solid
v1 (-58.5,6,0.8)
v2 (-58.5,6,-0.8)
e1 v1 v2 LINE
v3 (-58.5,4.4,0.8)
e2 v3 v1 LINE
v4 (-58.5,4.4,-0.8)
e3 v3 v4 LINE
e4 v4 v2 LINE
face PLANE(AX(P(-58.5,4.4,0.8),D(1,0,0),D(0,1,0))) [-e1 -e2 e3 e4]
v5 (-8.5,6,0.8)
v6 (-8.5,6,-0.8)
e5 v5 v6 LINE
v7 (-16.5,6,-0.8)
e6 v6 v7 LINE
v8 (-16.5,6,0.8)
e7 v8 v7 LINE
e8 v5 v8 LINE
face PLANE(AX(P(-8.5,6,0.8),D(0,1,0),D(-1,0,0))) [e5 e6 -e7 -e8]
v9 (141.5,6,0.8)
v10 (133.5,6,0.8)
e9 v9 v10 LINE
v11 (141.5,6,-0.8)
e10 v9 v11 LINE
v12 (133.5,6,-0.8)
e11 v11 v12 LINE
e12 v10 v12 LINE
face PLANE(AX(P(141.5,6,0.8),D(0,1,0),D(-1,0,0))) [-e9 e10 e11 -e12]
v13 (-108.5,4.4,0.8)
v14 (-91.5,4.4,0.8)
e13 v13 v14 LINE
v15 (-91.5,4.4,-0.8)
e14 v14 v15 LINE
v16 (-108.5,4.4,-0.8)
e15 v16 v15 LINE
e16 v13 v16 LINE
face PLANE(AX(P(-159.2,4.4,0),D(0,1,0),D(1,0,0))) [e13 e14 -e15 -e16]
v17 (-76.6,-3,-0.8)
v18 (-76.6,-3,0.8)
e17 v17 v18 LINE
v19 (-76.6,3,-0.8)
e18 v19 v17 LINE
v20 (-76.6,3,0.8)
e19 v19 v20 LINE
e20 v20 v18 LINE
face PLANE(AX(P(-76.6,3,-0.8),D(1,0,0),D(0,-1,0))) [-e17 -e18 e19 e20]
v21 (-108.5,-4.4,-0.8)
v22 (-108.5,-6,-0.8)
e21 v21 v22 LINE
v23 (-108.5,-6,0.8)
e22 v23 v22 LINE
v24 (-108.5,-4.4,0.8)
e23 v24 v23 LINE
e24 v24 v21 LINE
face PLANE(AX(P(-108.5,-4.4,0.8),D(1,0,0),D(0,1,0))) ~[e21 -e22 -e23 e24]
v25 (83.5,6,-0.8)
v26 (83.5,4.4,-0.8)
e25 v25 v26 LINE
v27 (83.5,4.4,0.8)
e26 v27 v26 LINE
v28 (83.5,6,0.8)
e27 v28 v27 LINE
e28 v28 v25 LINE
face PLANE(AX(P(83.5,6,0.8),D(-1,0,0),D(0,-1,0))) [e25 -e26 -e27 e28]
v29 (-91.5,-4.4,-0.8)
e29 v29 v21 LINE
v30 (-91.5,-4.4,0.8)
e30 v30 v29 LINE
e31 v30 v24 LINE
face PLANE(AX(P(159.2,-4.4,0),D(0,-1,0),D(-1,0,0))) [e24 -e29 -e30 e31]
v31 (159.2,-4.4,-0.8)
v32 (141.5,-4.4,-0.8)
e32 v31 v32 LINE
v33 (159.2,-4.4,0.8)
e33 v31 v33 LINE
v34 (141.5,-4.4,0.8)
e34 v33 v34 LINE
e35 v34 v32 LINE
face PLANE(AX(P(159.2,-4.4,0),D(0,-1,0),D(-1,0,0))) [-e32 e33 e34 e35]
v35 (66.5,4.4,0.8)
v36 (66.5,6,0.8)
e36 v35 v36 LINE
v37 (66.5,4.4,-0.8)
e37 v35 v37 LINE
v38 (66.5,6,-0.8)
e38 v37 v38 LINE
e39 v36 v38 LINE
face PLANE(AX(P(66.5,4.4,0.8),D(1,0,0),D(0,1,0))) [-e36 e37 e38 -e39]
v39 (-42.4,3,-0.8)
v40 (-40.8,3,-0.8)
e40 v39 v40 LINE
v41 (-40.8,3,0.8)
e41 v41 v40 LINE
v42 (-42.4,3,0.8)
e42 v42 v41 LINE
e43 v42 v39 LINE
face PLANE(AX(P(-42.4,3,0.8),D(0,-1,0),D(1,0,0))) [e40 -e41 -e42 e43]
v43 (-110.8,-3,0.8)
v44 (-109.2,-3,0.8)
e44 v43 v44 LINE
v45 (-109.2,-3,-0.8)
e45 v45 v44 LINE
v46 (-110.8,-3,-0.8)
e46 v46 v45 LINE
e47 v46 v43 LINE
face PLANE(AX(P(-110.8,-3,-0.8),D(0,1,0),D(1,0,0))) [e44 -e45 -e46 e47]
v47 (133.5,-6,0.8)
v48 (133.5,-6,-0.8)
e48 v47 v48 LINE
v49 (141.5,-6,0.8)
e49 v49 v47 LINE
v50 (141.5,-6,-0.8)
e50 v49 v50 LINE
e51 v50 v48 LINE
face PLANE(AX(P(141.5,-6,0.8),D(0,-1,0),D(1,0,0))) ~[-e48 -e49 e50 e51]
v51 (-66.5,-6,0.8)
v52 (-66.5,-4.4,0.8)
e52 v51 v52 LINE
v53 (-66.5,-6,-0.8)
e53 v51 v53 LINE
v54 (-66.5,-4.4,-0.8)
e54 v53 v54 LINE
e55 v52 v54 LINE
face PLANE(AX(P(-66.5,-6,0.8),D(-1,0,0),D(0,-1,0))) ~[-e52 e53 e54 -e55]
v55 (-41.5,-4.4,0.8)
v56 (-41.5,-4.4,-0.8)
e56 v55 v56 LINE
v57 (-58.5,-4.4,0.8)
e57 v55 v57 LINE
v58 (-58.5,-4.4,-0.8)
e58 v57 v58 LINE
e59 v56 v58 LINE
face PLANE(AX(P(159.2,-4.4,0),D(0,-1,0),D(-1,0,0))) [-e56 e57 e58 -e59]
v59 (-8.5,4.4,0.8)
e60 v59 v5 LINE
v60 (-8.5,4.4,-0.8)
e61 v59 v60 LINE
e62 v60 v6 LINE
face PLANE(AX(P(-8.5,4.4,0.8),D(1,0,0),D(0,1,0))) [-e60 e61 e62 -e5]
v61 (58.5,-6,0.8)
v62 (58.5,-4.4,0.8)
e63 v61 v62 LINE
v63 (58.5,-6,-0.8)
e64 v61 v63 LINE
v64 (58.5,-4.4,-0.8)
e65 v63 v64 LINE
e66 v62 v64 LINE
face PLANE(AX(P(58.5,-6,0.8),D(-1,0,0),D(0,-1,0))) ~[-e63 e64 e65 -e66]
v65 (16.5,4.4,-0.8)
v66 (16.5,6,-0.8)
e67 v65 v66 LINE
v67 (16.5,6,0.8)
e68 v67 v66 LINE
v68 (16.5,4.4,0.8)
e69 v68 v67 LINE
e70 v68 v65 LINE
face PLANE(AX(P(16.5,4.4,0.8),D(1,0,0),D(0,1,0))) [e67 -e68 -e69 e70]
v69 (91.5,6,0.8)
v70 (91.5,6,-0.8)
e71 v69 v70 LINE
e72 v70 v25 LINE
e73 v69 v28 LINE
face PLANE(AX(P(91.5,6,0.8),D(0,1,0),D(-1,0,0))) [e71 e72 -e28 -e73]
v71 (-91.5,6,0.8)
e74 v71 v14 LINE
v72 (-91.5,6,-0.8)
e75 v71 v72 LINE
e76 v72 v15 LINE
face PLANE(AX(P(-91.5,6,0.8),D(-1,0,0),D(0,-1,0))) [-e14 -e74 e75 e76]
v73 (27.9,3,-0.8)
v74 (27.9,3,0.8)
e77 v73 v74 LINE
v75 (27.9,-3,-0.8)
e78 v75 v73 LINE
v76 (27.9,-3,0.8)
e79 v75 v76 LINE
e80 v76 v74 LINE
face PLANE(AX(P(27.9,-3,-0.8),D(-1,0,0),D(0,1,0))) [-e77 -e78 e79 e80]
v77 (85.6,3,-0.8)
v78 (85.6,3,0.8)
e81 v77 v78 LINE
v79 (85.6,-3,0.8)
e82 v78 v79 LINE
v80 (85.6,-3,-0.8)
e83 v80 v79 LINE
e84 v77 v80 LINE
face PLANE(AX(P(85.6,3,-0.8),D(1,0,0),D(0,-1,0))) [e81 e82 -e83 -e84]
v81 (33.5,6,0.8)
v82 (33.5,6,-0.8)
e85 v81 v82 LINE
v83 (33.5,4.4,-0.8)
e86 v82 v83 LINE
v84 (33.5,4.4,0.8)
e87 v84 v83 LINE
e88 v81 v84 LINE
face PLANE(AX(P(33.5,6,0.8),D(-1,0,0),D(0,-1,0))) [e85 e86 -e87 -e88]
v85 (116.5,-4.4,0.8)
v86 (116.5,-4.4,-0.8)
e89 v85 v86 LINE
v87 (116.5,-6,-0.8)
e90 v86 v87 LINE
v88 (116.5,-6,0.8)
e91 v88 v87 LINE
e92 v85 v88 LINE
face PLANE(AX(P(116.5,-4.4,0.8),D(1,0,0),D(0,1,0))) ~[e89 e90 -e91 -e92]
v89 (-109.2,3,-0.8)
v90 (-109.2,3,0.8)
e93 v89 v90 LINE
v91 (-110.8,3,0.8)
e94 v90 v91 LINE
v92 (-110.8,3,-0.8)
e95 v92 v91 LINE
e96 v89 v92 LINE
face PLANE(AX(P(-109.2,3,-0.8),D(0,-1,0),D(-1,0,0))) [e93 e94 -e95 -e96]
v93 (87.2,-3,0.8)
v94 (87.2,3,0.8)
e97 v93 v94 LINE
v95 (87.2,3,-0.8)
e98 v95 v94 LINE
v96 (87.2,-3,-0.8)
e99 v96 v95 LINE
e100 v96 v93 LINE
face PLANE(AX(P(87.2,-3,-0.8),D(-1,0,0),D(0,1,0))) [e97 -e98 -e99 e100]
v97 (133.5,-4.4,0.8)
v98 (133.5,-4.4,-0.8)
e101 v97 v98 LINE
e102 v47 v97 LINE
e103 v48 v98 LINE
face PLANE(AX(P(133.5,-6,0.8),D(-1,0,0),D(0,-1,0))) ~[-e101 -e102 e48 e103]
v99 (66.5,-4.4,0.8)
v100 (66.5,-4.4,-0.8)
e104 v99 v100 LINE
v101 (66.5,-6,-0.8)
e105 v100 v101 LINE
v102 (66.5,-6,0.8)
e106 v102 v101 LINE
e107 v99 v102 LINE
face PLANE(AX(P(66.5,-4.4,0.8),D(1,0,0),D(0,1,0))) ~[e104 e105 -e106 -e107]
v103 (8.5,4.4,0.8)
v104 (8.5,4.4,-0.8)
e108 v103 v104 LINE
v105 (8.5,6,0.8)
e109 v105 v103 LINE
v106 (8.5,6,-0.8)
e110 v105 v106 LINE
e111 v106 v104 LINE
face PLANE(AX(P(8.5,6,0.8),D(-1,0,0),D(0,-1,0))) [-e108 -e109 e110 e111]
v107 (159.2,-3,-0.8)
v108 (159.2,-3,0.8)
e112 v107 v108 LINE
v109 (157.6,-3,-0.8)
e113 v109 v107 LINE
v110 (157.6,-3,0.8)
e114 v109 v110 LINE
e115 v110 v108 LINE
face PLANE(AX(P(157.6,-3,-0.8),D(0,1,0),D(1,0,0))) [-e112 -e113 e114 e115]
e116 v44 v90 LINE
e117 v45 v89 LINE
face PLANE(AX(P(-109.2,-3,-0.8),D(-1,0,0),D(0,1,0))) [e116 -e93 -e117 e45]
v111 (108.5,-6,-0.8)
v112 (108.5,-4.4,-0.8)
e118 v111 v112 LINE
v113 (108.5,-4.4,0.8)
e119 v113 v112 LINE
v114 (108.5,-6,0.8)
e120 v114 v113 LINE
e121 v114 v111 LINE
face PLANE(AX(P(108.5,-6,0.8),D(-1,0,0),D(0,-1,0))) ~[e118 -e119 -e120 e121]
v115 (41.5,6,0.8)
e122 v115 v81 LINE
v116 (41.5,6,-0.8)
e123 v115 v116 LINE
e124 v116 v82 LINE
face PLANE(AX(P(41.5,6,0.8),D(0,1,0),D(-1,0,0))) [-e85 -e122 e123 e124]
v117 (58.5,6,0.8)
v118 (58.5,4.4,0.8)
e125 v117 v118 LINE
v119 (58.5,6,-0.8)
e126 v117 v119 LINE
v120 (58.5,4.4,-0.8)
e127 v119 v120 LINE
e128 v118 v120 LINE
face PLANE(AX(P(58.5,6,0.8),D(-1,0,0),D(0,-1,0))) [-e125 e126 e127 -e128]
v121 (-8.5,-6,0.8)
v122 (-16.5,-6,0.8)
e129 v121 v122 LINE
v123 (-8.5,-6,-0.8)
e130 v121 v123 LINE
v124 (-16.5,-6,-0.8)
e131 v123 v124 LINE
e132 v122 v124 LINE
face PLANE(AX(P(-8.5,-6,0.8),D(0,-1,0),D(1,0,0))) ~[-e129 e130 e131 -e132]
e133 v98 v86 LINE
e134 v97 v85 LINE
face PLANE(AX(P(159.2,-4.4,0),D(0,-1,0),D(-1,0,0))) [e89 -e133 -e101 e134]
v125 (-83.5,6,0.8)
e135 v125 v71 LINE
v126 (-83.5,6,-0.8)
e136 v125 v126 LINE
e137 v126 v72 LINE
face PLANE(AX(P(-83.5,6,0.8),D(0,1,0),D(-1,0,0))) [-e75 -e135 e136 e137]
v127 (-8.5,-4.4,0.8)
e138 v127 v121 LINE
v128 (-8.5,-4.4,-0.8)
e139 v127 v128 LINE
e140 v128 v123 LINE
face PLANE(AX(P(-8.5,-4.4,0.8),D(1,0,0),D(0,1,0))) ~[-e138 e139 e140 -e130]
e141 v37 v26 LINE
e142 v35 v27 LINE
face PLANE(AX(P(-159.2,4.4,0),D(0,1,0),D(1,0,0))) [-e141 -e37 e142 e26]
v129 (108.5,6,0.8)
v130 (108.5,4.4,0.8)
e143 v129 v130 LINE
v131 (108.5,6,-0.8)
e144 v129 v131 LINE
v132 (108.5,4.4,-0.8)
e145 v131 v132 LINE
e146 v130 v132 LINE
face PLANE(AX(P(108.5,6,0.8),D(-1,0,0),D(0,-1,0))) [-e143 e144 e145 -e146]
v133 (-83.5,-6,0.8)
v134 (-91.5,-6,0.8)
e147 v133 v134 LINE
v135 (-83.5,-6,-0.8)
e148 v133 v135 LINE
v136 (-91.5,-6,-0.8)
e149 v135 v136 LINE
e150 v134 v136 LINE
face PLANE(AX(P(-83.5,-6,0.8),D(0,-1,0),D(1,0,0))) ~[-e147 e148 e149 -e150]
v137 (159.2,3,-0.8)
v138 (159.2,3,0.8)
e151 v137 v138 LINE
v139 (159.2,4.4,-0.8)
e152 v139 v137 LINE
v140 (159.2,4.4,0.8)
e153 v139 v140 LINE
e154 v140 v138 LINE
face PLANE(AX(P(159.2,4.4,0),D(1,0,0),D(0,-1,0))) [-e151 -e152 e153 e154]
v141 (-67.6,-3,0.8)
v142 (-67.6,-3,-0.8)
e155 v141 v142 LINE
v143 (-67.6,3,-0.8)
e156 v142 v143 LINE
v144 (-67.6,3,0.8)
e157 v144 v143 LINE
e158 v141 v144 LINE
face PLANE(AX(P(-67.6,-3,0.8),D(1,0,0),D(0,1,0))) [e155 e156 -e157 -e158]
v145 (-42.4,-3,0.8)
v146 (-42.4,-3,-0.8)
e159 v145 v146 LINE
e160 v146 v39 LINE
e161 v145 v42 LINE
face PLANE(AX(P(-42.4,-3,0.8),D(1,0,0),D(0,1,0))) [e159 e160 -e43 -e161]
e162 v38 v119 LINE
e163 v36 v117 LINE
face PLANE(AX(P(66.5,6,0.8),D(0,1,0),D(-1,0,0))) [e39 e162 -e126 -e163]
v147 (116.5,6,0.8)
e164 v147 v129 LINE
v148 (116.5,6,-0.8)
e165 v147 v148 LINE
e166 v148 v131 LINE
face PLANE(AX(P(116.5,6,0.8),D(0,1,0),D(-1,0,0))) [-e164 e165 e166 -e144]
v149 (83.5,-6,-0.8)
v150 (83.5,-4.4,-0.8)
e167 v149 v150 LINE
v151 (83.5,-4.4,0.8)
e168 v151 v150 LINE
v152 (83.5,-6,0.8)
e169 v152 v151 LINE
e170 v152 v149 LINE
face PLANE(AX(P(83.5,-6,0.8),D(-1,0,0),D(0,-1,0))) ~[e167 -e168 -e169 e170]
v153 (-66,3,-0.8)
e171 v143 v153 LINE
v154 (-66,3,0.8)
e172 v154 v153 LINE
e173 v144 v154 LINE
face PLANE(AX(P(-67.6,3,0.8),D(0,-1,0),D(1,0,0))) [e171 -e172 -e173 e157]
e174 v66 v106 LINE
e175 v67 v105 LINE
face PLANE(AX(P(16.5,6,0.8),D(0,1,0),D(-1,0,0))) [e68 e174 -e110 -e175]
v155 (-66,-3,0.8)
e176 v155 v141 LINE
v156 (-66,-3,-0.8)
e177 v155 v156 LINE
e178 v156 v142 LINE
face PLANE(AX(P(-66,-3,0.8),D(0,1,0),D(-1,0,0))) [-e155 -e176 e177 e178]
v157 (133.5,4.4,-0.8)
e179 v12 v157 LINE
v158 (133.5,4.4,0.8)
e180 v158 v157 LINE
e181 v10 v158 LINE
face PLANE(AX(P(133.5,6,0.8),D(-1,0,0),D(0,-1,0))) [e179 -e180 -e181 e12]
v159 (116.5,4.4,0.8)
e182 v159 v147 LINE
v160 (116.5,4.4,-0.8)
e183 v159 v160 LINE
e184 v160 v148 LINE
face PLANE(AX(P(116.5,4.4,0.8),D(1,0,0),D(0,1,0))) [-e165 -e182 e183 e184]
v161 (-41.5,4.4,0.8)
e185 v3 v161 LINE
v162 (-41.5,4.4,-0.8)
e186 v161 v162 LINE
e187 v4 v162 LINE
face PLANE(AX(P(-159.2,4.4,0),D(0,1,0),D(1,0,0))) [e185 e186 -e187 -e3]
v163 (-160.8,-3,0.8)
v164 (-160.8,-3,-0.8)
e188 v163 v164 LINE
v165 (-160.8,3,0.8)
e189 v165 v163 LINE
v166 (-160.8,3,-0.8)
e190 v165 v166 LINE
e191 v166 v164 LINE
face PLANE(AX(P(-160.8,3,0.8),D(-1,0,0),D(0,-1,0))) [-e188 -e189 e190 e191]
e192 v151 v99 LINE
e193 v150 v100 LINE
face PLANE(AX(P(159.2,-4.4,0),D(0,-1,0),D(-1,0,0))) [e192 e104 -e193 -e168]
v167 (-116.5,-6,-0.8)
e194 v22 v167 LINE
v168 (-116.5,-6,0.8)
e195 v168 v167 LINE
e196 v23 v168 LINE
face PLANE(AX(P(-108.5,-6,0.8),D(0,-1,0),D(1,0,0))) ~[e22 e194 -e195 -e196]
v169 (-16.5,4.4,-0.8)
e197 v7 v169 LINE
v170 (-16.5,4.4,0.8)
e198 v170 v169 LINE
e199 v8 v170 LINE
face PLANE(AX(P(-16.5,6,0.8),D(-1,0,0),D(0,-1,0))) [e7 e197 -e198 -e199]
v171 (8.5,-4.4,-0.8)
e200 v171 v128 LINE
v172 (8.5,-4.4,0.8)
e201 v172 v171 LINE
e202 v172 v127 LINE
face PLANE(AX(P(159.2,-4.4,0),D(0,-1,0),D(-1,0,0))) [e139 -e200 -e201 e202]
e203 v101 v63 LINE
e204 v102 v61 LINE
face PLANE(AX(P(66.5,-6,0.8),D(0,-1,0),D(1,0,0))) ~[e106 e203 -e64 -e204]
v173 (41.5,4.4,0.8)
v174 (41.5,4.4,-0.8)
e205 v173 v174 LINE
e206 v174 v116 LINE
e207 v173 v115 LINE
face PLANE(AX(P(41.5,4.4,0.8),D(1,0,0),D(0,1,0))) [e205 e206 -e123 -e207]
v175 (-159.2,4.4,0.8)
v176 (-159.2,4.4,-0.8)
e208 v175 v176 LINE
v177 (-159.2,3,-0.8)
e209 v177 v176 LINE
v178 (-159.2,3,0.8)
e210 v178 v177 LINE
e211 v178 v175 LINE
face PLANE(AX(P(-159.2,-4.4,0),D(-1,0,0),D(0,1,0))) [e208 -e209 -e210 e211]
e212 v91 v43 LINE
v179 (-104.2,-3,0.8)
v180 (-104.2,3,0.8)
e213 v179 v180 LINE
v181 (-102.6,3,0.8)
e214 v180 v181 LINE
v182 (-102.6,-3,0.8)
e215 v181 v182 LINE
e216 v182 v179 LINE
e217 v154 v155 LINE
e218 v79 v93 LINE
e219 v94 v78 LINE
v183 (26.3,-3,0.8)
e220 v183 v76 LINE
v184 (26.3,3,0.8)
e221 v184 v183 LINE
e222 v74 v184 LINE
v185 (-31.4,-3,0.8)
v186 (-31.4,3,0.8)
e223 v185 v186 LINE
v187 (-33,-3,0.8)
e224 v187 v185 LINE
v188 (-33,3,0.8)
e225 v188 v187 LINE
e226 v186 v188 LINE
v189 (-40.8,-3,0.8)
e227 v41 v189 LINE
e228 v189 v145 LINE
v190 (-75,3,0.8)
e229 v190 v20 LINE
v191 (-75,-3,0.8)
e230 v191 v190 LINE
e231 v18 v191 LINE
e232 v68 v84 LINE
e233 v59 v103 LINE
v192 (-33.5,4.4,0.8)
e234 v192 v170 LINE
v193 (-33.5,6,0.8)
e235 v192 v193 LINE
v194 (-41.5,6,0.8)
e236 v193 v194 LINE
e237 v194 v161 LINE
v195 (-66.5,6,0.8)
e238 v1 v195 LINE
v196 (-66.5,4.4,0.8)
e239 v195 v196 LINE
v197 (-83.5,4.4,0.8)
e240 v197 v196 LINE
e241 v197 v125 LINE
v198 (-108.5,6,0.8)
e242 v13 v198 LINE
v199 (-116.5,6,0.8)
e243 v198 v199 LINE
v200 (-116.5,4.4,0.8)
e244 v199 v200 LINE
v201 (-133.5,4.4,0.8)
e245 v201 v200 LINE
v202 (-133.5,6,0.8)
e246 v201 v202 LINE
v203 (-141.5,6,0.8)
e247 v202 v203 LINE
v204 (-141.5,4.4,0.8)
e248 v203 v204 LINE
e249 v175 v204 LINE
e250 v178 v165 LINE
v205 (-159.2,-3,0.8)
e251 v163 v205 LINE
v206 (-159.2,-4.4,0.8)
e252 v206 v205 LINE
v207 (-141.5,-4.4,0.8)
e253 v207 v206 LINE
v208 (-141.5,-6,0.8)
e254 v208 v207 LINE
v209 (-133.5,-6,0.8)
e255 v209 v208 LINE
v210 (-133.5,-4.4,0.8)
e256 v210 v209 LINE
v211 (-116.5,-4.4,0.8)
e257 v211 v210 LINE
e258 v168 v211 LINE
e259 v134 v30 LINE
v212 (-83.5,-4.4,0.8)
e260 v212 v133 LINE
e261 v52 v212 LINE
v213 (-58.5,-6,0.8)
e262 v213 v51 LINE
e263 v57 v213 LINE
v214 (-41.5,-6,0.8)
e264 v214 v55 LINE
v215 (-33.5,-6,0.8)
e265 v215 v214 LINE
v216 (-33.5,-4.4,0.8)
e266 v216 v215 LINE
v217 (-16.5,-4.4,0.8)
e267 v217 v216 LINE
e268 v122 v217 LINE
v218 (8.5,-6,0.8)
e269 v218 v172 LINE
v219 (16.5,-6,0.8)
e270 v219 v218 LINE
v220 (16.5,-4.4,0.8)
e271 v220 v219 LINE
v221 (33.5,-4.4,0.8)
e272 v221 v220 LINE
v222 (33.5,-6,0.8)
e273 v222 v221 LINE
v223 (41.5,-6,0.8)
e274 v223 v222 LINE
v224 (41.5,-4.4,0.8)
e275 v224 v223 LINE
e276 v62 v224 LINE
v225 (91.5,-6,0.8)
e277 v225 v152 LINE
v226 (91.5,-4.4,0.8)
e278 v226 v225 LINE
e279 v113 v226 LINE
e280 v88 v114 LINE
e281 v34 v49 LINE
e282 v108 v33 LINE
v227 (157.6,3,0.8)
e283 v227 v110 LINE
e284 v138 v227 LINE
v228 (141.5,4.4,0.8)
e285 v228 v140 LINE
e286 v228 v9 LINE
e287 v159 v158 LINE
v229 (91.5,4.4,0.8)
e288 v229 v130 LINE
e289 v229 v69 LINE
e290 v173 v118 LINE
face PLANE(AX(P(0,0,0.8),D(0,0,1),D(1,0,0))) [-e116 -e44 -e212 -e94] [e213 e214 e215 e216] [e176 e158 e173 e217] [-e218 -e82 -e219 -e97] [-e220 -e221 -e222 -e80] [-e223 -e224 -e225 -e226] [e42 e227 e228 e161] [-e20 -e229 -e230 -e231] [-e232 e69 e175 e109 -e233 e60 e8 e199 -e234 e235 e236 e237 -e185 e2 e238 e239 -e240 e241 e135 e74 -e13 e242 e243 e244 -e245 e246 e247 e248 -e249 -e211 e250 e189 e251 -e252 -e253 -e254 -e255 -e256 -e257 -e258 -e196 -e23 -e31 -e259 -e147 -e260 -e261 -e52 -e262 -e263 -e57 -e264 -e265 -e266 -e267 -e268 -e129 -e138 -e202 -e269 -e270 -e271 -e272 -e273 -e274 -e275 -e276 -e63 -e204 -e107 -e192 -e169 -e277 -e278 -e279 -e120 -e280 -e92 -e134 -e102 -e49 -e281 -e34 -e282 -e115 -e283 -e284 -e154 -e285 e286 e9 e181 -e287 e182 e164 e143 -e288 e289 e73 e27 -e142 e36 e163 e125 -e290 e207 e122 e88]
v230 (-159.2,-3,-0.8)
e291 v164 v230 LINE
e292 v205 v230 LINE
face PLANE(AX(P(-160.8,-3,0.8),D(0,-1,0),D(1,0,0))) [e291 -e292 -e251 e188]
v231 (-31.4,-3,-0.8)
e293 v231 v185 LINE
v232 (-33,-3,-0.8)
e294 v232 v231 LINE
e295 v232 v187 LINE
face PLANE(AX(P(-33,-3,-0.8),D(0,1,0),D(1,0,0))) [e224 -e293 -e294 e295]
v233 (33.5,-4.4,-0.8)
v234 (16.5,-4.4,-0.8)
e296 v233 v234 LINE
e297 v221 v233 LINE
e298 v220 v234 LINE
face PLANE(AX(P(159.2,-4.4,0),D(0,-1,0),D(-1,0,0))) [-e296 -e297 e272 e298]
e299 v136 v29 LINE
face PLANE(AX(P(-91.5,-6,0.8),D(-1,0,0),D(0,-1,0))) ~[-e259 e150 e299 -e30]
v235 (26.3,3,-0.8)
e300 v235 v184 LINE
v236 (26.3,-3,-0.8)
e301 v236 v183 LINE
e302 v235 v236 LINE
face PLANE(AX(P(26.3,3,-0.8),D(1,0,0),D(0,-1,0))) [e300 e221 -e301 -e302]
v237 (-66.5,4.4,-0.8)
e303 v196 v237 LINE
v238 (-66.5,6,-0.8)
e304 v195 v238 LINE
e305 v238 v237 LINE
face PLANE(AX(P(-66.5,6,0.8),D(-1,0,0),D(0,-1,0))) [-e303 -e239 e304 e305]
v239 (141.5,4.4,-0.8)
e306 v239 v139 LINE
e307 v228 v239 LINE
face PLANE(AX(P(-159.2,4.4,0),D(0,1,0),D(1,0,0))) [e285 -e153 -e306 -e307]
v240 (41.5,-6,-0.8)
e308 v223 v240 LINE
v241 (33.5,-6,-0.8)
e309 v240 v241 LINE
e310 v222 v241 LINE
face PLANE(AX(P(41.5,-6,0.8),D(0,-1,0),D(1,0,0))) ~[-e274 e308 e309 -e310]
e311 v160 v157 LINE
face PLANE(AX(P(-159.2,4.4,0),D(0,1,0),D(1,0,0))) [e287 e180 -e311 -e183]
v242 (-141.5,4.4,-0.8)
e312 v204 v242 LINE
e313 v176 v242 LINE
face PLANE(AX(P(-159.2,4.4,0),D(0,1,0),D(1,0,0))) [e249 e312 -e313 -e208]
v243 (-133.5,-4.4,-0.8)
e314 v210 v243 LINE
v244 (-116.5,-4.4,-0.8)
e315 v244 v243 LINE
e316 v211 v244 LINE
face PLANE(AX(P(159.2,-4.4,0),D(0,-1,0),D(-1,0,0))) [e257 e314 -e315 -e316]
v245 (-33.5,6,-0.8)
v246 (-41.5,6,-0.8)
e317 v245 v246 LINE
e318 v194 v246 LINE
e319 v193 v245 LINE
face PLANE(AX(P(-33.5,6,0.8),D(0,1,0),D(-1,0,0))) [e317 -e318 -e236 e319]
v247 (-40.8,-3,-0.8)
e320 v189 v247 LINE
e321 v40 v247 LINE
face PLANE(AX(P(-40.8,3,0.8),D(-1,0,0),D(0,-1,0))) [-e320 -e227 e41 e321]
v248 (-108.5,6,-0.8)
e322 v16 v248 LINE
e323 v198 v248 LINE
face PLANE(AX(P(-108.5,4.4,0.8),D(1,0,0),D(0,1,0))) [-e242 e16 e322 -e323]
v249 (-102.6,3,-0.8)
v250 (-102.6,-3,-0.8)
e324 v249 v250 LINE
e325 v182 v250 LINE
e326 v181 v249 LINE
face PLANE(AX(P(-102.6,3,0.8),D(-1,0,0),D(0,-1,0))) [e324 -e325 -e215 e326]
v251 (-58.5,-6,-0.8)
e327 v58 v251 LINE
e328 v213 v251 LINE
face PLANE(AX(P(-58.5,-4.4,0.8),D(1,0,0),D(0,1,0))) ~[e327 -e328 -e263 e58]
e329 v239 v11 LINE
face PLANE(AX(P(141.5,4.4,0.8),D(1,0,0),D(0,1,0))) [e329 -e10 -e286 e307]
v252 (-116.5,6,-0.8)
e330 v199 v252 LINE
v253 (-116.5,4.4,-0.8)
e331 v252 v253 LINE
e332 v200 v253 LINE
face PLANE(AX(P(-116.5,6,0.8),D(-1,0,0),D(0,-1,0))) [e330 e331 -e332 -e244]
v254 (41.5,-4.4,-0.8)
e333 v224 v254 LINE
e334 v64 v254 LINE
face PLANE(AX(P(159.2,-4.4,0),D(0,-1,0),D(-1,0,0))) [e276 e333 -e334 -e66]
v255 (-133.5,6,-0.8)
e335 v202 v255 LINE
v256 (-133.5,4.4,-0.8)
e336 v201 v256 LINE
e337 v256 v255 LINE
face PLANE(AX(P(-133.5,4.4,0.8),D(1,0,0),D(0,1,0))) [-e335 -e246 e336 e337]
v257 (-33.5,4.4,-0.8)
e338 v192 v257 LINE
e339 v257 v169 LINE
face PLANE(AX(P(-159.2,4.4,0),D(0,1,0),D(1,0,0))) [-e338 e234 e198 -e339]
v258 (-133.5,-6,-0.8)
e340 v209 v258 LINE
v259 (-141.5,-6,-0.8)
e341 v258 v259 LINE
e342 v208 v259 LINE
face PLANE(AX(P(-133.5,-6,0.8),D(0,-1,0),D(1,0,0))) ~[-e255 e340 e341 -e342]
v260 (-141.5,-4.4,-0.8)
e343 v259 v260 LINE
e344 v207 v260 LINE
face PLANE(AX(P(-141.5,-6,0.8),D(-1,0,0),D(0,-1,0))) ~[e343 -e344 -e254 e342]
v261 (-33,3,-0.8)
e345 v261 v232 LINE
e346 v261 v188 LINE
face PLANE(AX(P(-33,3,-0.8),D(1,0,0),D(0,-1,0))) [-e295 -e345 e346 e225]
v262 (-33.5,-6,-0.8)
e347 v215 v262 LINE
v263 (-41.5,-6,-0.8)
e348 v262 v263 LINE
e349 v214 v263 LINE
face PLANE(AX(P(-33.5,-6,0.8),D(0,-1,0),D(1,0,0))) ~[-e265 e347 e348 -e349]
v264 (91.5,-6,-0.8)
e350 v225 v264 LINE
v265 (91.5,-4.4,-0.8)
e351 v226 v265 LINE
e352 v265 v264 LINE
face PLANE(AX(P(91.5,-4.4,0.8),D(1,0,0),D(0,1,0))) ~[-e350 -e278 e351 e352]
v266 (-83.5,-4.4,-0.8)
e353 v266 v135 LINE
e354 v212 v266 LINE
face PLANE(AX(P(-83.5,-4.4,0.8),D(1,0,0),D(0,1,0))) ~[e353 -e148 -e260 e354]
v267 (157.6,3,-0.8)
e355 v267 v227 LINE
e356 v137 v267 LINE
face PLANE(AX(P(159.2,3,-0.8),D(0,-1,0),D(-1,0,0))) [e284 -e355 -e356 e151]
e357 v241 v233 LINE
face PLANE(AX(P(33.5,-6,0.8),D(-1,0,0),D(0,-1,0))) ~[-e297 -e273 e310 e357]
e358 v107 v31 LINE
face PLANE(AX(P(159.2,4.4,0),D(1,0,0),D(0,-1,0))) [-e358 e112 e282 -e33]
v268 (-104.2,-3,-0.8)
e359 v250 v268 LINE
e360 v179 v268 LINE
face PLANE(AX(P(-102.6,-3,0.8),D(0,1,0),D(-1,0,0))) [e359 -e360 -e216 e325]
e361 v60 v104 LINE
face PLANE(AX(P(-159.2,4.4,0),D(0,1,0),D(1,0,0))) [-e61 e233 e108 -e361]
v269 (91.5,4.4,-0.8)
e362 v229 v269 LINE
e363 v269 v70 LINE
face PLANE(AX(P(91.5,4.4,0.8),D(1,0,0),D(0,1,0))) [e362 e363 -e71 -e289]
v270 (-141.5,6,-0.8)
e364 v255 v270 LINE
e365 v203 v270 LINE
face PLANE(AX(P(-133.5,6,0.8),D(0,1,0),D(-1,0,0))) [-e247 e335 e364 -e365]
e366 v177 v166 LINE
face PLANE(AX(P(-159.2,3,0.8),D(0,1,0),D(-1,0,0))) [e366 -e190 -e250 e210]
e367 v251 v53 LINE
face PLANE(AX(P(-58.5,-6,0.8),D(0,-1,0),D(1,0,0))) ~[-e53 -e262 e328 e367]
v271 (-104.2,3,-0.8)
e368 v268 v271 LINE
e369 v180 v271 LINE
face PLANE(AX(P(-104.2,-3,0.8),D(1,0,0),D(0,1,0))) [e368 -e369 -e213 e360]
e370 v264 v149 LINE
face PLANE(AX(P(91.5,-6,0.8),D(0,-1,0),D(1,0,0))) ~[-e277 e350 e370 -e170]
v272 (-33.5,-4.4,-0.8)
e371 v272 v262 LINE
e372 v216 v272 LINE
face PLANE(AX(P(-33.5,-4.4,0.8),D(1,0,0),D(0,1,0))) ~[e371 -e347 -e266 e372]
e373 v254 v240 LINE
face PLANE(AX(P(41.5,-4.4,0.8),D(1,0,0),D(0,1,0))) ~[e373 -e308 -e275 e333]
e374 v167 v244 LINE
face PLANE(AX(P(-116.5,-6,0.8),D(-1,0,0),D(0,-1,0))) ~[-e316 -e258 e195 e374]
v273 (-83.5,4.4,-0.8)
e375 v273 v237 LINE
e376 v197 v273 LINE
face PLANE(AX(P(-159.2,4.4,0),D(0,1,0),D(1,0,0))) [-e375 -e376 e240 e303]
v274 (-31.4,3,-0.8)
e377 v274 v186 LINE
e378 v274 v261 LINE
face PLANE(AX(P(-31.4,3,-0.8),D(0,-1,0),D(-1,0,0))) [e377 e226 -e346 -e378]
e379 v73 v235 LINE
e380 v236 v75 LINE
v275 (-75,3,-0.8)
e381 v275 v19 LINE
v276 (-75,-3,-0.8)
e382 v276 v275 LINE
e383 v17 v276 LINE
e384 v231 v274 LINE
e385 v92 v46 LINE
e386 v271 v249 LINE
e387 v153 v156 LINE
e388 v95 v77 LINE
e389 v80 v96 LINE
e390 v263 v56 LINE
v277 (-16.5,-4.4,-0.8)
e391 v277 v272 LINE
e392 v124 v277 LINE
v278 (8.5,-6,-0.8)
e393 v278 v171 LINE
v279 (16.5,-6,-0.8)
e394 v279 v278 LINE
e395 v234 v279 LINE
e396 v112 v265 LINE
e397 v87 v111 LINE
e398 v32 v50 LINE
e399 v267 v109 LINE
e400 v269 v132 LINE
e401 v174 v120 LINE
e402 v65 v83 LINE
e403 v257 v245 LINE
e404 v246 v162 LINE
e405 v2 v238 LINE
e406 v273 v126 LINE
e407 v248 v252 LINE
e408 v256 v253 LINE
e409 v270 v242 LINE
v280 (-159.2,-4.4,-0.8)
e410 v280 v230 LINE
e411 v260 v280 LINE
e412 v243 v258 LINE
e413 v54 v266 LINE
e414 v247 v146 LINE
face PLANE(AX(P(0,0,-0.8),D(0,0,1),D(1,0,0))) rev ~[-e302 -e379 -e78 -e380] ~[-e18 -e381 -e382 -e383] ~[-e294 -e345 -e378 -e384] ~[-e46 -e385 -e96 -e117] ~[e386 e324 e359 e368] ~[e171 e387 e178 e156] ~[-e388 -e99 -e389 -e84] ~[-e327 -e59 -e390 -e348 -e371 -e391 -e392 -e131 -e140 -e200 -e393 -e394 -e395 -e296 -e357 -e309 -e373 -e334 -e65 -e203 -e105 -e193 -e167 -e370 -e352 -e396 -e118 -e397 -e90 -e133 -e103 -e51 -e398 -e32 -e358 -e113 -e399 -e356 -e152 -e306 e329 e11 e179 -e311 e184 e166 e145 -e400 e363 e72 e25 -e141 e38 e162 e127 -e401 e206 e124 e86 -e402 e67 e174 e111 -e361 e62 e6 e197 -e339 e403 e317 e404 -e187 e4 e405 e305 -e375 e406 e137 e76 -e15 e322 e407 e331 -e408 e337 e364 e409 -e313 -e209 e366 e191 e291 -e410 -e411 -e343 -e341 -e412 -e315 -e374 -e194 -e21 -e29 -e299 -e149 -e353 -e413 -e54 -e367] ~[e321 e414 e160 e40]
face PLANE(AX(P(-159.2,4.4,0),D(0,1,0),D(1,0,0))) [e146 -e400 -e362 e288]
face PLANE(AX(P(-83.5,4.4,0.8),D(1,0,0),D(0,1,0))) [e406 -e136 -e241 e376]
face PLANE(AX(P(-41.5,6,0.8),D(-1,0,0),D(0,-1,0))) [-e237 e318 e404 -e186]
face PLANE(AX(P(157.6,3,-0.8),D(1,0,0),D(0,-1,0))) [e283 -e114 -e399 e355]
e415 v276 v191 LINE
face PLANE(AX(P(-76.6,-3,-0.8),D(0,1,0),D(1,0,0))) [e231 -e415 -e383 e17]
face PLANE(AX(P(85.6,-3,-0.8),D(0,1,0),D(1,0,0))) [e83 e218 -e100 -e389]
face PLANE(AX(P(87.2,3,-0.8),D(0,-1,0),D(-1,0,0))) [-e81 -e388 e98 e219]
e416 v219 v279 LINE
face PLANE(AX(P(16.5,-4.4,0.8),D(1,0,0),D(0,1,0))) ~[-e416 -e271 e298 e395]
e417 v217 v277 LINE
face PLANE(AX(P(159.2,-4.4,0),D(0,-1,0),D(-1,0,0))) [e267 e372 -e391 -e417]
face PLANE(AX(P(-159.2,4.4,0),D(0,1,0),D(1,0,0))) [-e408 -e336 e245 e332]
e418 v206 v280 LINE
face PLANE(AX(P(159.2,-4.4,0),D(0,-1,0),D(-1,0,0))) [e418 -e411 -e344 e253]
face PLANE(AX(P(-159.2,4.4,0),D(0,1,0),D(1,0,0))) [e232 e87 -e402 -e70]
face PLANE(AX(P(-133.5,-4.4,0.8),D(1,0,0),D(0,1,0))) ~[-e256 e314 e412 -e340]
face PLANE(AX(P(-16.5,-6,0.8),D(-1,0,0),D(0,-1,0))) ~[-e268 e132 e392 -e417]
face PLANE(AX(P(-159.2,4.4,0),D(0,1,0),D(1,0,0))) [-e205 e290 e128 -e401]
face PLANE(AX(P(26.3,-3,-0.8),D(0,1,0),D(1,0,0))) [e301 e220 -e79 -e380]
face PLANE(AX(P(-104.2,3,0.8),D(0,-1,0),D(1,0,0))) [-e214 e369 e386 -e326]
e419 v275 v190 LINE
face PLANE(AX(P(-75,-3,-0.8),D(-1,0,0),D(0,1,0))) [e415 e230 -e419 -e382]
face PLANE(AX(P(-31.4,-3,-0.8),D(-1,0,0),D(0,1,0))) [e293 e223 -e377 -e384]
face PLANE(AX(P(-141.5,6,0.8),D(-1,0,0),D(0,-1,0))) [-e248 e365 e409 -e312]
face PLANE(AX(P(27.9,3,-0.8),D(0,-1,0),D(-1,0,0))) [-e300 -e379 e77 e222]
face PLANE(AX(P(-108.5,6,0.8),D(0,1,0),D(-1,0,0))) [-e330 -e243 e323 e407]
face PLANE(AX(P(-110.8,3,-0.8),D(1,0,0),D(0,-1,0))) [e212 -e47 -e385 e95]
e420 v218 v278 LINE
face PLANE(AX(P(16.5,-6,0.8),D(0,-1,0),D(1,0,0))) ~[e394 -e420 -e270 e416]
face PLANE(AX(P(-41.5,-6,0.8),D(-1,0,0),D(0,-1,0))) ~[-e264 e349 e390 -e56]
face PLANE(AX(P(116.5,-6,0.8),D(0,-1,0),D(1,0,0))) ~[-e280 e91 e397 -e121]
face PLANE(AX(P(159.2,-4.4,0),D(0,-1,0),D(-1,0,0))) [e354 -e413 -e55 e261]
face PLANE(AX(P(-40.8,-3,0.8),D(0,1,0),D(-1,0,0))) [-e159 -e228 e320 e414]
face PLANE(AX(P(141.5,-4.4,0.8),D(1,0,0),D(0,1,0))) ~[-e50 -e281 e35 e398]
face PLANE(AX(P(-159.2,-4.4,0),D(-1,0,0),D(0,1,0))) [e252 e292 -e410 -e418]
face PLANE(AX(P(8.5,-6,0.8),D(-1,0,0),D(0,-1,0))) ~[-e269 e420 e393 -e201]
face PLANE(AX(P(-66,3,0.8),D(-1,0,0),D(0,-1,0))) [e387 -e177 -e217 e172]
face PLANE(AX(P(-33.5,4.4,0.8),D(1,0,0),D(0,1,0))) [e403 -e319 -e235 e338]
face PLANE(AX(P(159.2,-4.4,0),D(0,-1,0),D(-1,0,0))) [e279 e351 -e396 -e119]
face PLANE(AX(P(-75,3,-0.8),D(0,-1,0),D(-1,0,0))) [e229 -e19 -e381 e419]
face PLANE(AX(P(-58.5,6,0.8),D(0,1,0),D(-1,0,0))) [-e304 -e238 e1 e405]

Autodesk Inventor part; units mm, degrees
ref_plane "YZ Plane" through (0, 0, 0) normal (1, 0, 0) x (0, 1, 0)
ref_plane "XZ Plane" through (0, 0, 0) normal (0, 1, 0) x (-1, 0, 0)
ref_plane "XY Plane" through (0, 0, 0) normal (0, 0, 1) x (1, 0, 0)
sketch "Sketch1" plane through (0, 0, 0) normal (0, 0, 1) x (1, 0, 0)
  line L0 (0, 6.16) -> (0, -6.16) construction
  line L1 (-222.88, 0) -> (222.88, 0) construction
  line L2 (159.2, -4.4) -> (-159.2, -4.4)
  line L3 (-159.2, -4.4) -> (-159.2, 4.4)
  line L4 (-159.2, 4.4) -> (159.2, 4.4)
  line L5 (159.2, 4.4) -> (159.2, -4.4)
  line L6 (159.2, -4.4) -> (-159.2, 4.4) construction
  line L7 (-159.2, -4.4) -> (159.2, 4.4) construction
  point P0 (0, 0)
  dimension "d0" = 8.8
  dimension "d1" = 318.4
extrude "Extrusion1" add sketch "Sketch1" along normal mid plane 1.6
sketch "Esquisse3" plane through (0, 0, -0.8) normal (0, 0, -1) x (-1, 0, 0)
  line L0 (-85.6, -3) -> (-87.2, -3)
  line L1 (-87.2, -3) -> (-87.2, 3)
  line L2 (-87.2, 3) -> (-85.6, 3)
  line L3 (-85.6, 3) -> (-85.6, -3)
  line L4 (-157.6, -3) -> (-159.2, -3)
  line L5 (-159.2, -3) -> (-159.2, 3)
  line L6 (-159.2, 3) -> (-157.6, 3)
  line L7 (-157.6, 3) -> (-157.6, -3)
  line L8 (-26.3, -3) -> (-27.9, -3)
  line L9 (-27.9, -3) -> (-27.9, 3)
  line L10 (-27.9, 3) -> (-26.3, 3)
  line L11 (-26.3, 3) -> (-26.3, -3)
  line L12 (109.2, 3) -> (110.8, 3)
  line L13 (110.8, 3) -> (110.8, -3)
  line L14 (110.8, -3) -> (109.2, -3)
  line L15 (109.2, -3) -> (109.2, 3)
  line L16 (75, 3) -> (76.6, 3)
  line L17 (76.6, 3) -> (76.6, -3)
  line L18 (76.6, -3) -> (75, -3)
  line L19 (75, -3) -> (75, 3)
  line L20 (33, -3) -> (31.4, -3)
  line L21 (31.4, -3) -> (31.4, 3)
  line L22 (31.4, 3) -> (33, 3)
  line L23 (33, 3) -> (33, -3)
  point P0 (0, 0)
extrude "Extrusion4" cut sketch "Esquisse3" against normal blind 1.6
sketch "Esquisse4" plane through (0, 0, 0.8) normal (0, 0, 1) x (1, 0, 0)
  line L0 (-102.6, -3) -> (-104.2, -3)
  line L1 (-104.2, -3) -> (-104.2, 3)
  line L2 (-104.2, 3) -> (-102.6, 3)
  line L3 (-102.6, 3) -> (-102.6, -3)
  line L4 (-66, -3) -> (-67.6, -3)
  line L5 (-67.6, -3) -> (-67.6, 3)
  line L6 (-67.6, 3) -> (-66, 3)
  line L7 (-66, 3) -> (-66, -3)
  line L8 (-42.4, 3) -> (-40.8, 3)
  line L9 (-40.8, 3) -> (-40.8, -3)
  line L10 (-40.8, -3) -> (-42.4, -3)
  line L11 (-42.4, -3) -> (-42.4, 3)
  point P0 (0, 0)
extrude "Extrusion5" cut sketch "Esquisse4" against normal blind 1.6
sketch "Esquisse5" plane through (0, 0, 0.8) normal (0, 0, 1) x (1, 0, 0)
  line L0 (-66, 3) -> (-66, -3) construction
  line L1 (-66, -3) -> (-67.6, -3) construction
  line L2 (-67.6, -3) -> (-67.6, 3) construction
  line L3 (-67.6, 3) -> (-66, 3) construction
  line L4 (-102.6, 3) -> (-102.6, -3) construction
  line L5 (-102.6, -3) -> (-104.2, -3) construction
  line L6 (-104.2, -3) -> (-104.2, 3) construction
  line L7 (-104.2, 3) -> (-102.6, 3) construction
  line L8 (-42.4, -3) -> (-42.4, 3) construction
  line L9 (-42.4, 3) -> (-40.8, 3) construction
  line L10 (-40.8, 3) -> (-40.8, -3) construction
  line L11 (-40.8, -3) -> (-42.4, -3) construction
  line L12 (157.6, 3) -> (159.2, 3) construction
  line L13 (159.2, 3) -> (159.2, 4.4) construction
  line L14 (159.2, 4.4) -> (-159.2, 4.4) construction
  line L15 (-159.2, 4.4) -> (-159.2, -4.4) construction
  line L16 (-159.2, -4.4) -> (159.2, -4.4) construction
  line L17 (159.2, -4.4) -> (159.2, -3) construction
  line L18 (159.2, -3) -> (157.6, -3) construction
  line L19 (157.6, -3) -> (157.6, 3) construction
  line L20 (-75, 3) -> (-75, -3) construction
  line L21 (-75, -3) -> (-76.6, -3) construction
  line L22 (-76.6, -3) -> (-76.6, 3) construction
  line L23 (-76.6, 3) -> (-75, 3) construction
  line L24 (26.3, -3) -> (26.3, 3) construction
  line L25 (26.3, 3) -> (27.9, 3) construction
  line L26 (27.9, 3) -> (27.9, -3) construction
  line L27 (27.9, -3) -> (26.3, -3) construction
  line L28 (85.6, -3) -> (85.6, 3) construction
  line L29 (85.6, 3) -> (87.2, 3) construction
  line L30 (87.2, 3) -> (87.2, -3) construction
  line L31 (87.2, -3) -> (85.6, -3) construction
  line L32 (-109.2, 3) -> (-109.2, -3) construction
  line L33 (-109.2, -3) -> (-110.8, -3) construction
  line L34 (-110.8, -3) -> (-110.8, 3) construction
  line L35 (-110.8, 3) -> (-109.2, 3) construction
  line L36 (-33, -3) -> (-33, 3) construction
  line L37 (-33, 3) -> (-31.4, 3) construction
  line L38 (-31.4, 3) -> (-31.4, -3) construction
  line L39 (-31.4, -3) -> (-33, -3) construction
  line L40 (0, 6.16) -> (0, -6.16) construction
  line L41 (-222.88, 0) -> (222.88, 0) construction
  line L42 (-141.5, 4.4) -> (-133.5, 4.4)
  line L43 (-133.5, 4.4) -> (-133.5, 6)
  line L44 (-133.5, 6) -> (-141.5, 6)
  line L45 (-141.5, 6) -> (-141.5, 4.4)
  line L46 (-108.5, 4.4) -> (-108.5, 6)
  line L47 (-108.5, 6) -> (-116.5, 6)
  line L48 (-116.5, 6) -> (-116.5, 4.4)
  line L49 (-116.5, 4.4) -> (-108.5, 4.4)
  line L50 (-83.5, 4.4) -> (-83.5, 6)
  line L51 (-83.5, 6) -> (-91.5, 6)
  line L52 (-91.5, 6) -> (-91.5, 4.4)
  line L53 (-91.5, 4.4) -> (-83.5, 4.4)
  line L54 (-58.5, 4.4) -> (-58.5, 6)
  line L55 (-58.5, 6) -> (-66.5, 6)
  line L56 (-66.5, 6) -> (-66.5, 4.4)
  line L57 (-66.5, 4.4) -> (-58.5, 4.4)
  line L58 (-33.5, 4.4) -> (-33.5, 6)
  line L59 (-33.5, 6) -> (-41.5, 6)
  line L60 (-41.5, 6) -> (-41.5, 4.4)
  line L61 (-41.5, 4.4) -> (-33.5, 4.4)
  line L62 (-8.5, 4.4) -> (-8.5, 6)
  line L63 (-8.5, 6) -> (-16.5, 6)
  line L64 (-16.5, 6) -> (-16.5, 4.4)
  line L65 (-16.5, 4.4) -> (-8.5, 4.4)
  line L66 (16.5, 4.4) -> (16.5, 6)
  line L67 (16.5, 6) -> (8.5, 6)
  line L68 (8.5, 6) -> (8.5, 4.4)
  line L69 (8.5, 4.4) -> (16.5, 4.4)
  line L70 (41.5, 4.4) -> (41.5, 6)
  line L71 (41.5, 6) -> (33.5, 6)
  line L72 (33.5, 6) -> (33.5, 4.4)
  line L73 (33.5, 4.4) -> (41.5, 4.4)
  line L74 (66.5, 4.4) -> (66.5, 6)
  line L75 (66.5, 6) -> (58.5, 6)
  line L76 (58.5, 6) -> (58.5, 4.4)
  line L77 (58.5, 4.4) -> (66.5, 4.4)
  line L78 (91.5, 4.4) -> (91.5, 6)
  line L79 (91.5, 6) -> (83.5, 6)
  line L80 (83.5, 6) -> (83.5, 4.4)
  line L81 (83.5, 4.4) -> (91.5, 4.4)
  line L82 (116.5, 4.4) -> (116.5, 6)
  line L83 (116.5, 6) -> (108.5, 6)
  line L84 (108.5, 6) -> (108.5, 4.4)
  line L85 (108.5, 4.4) -> (116.5, 4.4)
  line L86 (141.5, 4.4) -> (141.5, 6)
  line L87 (141.5, 6) -> (133.5, 6)
  line L88 (133.5, 6) -> (133.5, 4.4)
  line L89 (133.5, 4.4) -> (141.5, 4.4)
  point P0 (0, 0)
  dimension "d21" = 8
  dimension "d22" = 1.6
  dimension "d25" = 25
extrude "Extrusion6" add sketch "Esquisse5" against normal blind 1.6
mirror "Symétrie2" about plane through (0, 0, 0) normal (0, 1, 0) of "Extrusion6"
sketch "Esquisse6" plane through (0, 0, 0.8) normal (0, 0, 1) x (1, 0, 0)
  line L0 (-66, -3) -> (-66, 3) construction
  line L1 (-66, 3) -> (-67.6, 3) construction
  line L2 (-67.6, 3) -> (-67.6, -3) construction
  line L3 (-67.6, -3) -> (-66, -3) construction
  line L4 (-102.6, -3) -> (-102.6, 3) construction
  line L5 (-102.6, 3) -> (-104.2, 3) construction
  line L6 (-104.2, 3) -> (-104.2, -3) construction
  line L7 (-104.2, -3) -> (-102.6, -3) construction
  line L8 (-42.4, 3) -> (-42.4, -3) construction
  line L9 (-42.4, -3) -> (-40.8, -3) construction
  line L10 (-40.8, -3) -> (-40.8, 3) construction
  line L11 (-40.8, 3) -> (-42.4, 3) construction
  line L12 (-75, -3) -> (-75, 3) construction
  line L13 (-75, 3) -> (-76.6, 3) construction
  line L14 (-76.6, 3) -> (-76.6, -3) construction
  line L15 (-76.6, -3) -> (-75, -3) construction
  line L16 (26.3, 3) -> (26.3, -3) construction
  line L17 (26.3, -3) -> (27.9, -3) construction
  line L18 (27.9, -3) -> (27.9, 3) construction
  line L19 (27.9, 3) -> (26.3, 3) construction
  line L20 (85.6, 3) -> (85.6, -3) construction
  line L21 (85.6, -3) -> (87.2, -3) construction
  line L22 (87.2, -3) -> (87.2, 3) construction
  line L23 (87.2, 3) -> (85.6, 3) construction
  line L24 (157.6, 3) -> (157.6, -3) construction
  line L25 (157.6, -3) -> (159.2, -3) construction
  line L26 (159.2, -3) -> (159.2, -4.4) construction
  line L27 (159.2, -4.4) -> (141.5, -4.4) construction
  line L28 (141.5, -4.4) -> (141.5, -6) construction
  line L29 (141.5, -6) -> (133.5, -6) construction
  line L30 (133.5, -6) -> (133.5, -4.4) construction
  line L31 (133.5, -4.4) -> (116.5, -4.4) construction
  line L32 (116.5, -4.4) -> (116.5, -6) construction
  line L33 (116.5, -6) -> (108.5, -6) construction
  line L34 (108.5, -6) -> (108.5, -4.4) construction
  line L35 (108.5, -4.4) -> (91.5, -4.4) construction
  line L36 (91.5, -4.4) -> (91.5, -6) construction
  line L37 (91.5, -6) -> (83.5, -6) construction
  line L38 (83.5, -6) -> (83.5, -4.4) construction
  line L39 (83.5, -4.4) -> (66.5, -4.4) construction
  line L40 (66.5, -4.4) -> (66.5, -6) construction
  line L41 (66.5, -6) -> (58.5, -6) construction
  line L42 (58.5, -6) -> (58.5, -4.4) construction
  line L43 (58.5, -4.4) -> (41.5, -4.4) construction
  line L44 (41.5, -4.4) -> (41.5, -6) construction
  line L45 (41.5, -6) -> (33.5, -6) construction
  line L46 (33.5, -6) -> (33.5, -4.4) construction
  line L47 (33.5, -4.4) -> (16.5, -4.4) construction
  line L48 (16.5, -4.4) -> (16.5, -6) construction
  line L49 (16.5, -6) -> (8.5, -6) construction
  line L50 (8.5, -6) -> (8.5, -4.4) construction
  line L51 (8.5, -4.4) -> (-8.5, -4.4) construction
  line L52 (-8.5, -4.4) -> (-8.5, -6) construction
  line L53 (-8.5, -6) -> (-16.5, -6) construction
  line L54 (-16.5, -6) -> (-16.5, -4.4) construction
  line L55 (-16.5, -4.4) -> (-33.5, -4.4) construction
  line L56 (-33.5, -4.4) -> (-33.5, -6) construction
  line L57 (-33.5, -6) -> (-41.5, -6) construction
  line L58 (-41.5, -6) -> (-41.5, -4.4) construction
  line L59 (-41.5, -4.4) -> (-58.5, -4.4) construction
  line L60 (-58.5, -4.4) -> (-58.5, -6) construction
  line L61 (-58.5, -6) -> (-66.5, -6) construction
  line L62 (-66.5, -6) -> (-66.5, -4.4) construction
  line L63 (-66.5, -4.4) -> (-83.5, -4.4) construction
  line L64 (-83.5, -4.4) -> (-83.5, -6) construction
  line L65 (-83.5, -6) -> (-91.5, -6) construction
  line L66 (-91.5, -6) -> (-91.5, -4.4) construction
  line L67 (-91.5, -4.4) -> (-108.5, -4.4) construction
  line L68 (-108.5, -4.4) -> (-108.5, -6) construction
  line L69 (-108.5, -6) -> (-116.5, -6) construction
  line L70 (-116.5, -6) -> (-116.5, -4.4) construction
  line L71 (-116.5, -4.4) -> (-133.5, -4.4) construction
  line L72 (-133.5, -4.4) -> (-133.5, -6) construction
  line L73 (-133.5, -6) -> (-141.5, -6) construction
  line L74 (-141.5, -6) -> (-141.5, -4.4) construction
  line L75 (-141.5, -4.4) -> (-159.2, -4.4) construction
  line L76 (-159.2, -4.4) -> (-159.2, 4.4) construction
  line L77 (-159.2, 4.4) -> (-141.5, 4.4) construction
  line L78 (-141.5, 4.4) -> (-141.5, 6) construction
  line L79 (-141.5, 6) -> (-133.5, 6) construction
  line L80 (-133.5, 6) -> (-133.5, 4.4) construction
  line L81 (-133.5, 4.4) -> (-116.5, 4.4) construction
  line L82 (-116.5, 4.4) -> (-116.5, 6) construction
  line L83 (-116.5, 6) -> (-108.5, 6) construction
  line L84 (-108.5, 6) -> (-108.5, 4.4) construction
  line L85 (-108.5, 4.4) -> (-91.5, 4.4) construction
  line L86 (-91.5, 4.4) -> (-91.5, 6) construction
  line L87 (-91.5, 6) -> (-83.5, 6) construction
  line L88 (-83.5, 6) -> (-83.5, 4.4) construction
  line L89 (-83.5, 4.4) -> (-66.5, 4.4) construction
  line L90 (-66.5, 4.4) -> (-66.5, 6) construction
  line L91 (-66.5, 6) -> (-58.5, 6) construction
  line L92 (-58.5, 6) -> (-58.5, 4.4) construction
  line L93 (-58.5, 4.4) -> (-41.5, 4.4) construction
  line L94 (-41.5, 4.4) -> (-41.5, 6) construction
  line L95 (-41.5, 6) -> (-33.5, 6) construction
  line L96 (-33.5, 6) -> (-33.5, 4.4) construction
  line L97 (-33.5, 4.4) -> (-16.5, 4.4) construction
  line L98 (-16.5, 4.4) -> (-16.5, 6) construction
  line L99 (-16.5, 6) -> (-8.5, 6) construction
  line L100 (-8.5, 6) -> (-8.5, 4.4) construction
  line L101 (-8.5, 4.4) -> (8.5, 4.4) construction
  line L102 (8.5, 4.4) -> (8.5, 6) construction
  line L103 (8.5, 6) -> (16.5, 6) construction
  line L104 (16.5, 6) -> (16.5, 4.4) construction
  line L105 (16.5, 4.4) -> (33.5, 4.4) construction
  line L106 (33.5, 4.4) -> (33.5, 6) construction
  line L107 (33.5, 6) -> (41.5, 6) construction
  line L108 (41.5, 6) -> (41.5, 4.4) construction
  line L109 (41.5, 4.4) -> (58.5, 4.4) construction
  line L110 (58.5, 4.4) -> (58.5, 6) construction
  line L111 (58.5, 6) -> (66.5, 6) construction
  line L112 (66.5, 6) -> (66.5, 4.4) construction
  line L113 (66.5, 4.4) -> (83.5, 4.4) construction
  line L114 (83.5, 4.4) -> (83.5, 6) construction
  line L115 (83.5, 6) -> (91.5, 6) construction
  line L116 (91.5, 6) -> (91.5, 4.4) construction
  line L117 (91.5, 4.4) -> (108.5, 4.4) construction
  line L118 (108.5, 4.4) -> (108.5, 6) construction
  line L119 (108.5, 6) -> (116.5, 6) construction
  line L120 (116.5, 6) -> (116.5, 4.4) construction
  line L121 (116.5, 4.4) -> (133.5, 4.4) construction
  line L122 (133.5, 4.4) -> (133.5, 6) construction
  line L123 (133.5, 6) -> (141.5, 6) construction
  line L124 (141.5, 6) -> (141.5, 4.4) construction
  line L125 (141.5, 4.4) -> (159.2, 4.4) construction
  line L126 (159.2, 4.4) -> (159.2, 3) construction
  line L127 (159.2, 3) -> (157.6, 3) construction
  line L128 (-109.2, -3) -> (-109.2, 3) construction
  line L129 (-109.2, 3) -> (-110.8, 3) construction
  line L130 (-110.8, 3) -> (-110.8, -3) construction
  line L131 (-110.8, -3) -> (-109.2, -3) construction
  line L132 (-33, 3) -> (-33, -3) construction
  line L133 (-33, -3) -> (-31.4, -3) construction
  line L134 (-31.4, -3) -> (-31.4, 3) construction
  line L135 (-31.4, 3) -> (-33, 3) construction
  line L136 (-66, 3) -> (-66, -3) construction
  line L137 (-66, -3) -> (-67.6, -3) construction
  line L138 (-67.6, -3) -> (-67.6, 3) construction
  line L139 (-67.6, 3) -> (-66, 3) construction
  line L140 (-102.6, 3) -> (-102.6, -3) construction
  line L141 (-102.6, -3) -> (-104.2, -3) construction
  line L142 (-104.2, -3) -> (-104.2, 3) construction
  line L143 (-104.2, 3) -> (-102.6, 3) construction
  line L144 (-42.4, -3) -> (-42.4, 3) construction
  line L145 (-42.4, 3) -> (-40.8, 3) construction
  line L146 (-40.8, 3) -> (-40.8, -3) construction
  line L147 (-40.8, -3) -> (-42.4, -3) construction
  line L148 (157.6, 3) -> (159.2, 3) construction
  line L149 (159.2, 3) -> (159.2, 4.4) construction
  line L150 (159.2, 4.4) -> (141.5, 4.4) construction
  line L151 (141.5, 6) -> (141.5, 4.4) construction
  line L152 (133.5, 6) -> (141.5, 6) construction
  line L153 (133.5, 4.4) -> (133.5, 6) construction
  line L154 (133.5, 4.4) -> (116.5, 4.4) construction
  line L155 (116.5, 6) -> (116.5, 4.4) construction
  line L156 (108.5, 6) -> (116.5, 6) construction
  line L157 (108.5, 4.4) -> (108.5, 6) construction
  line L158 (108.5, 4.4) -> (91.5, 4.4) construction
  line L159 (91.5, 6) -> (91.5, 4.4) construction
  line L160 (83.5, 6) -> (91.5, 6) construction
  line L161 (83.5, 4.4) -> (83.5, 6) construction
  line L162 (83.5, 4.4) -> (66.5, 4.4) construction
  line L163 (66.5, 6) -> (66.5, 4.4) construction
  line L164 (58.5, 6) -> (66.5, 6) construction
  line L165 (58.5, 4.4) -> (58.5, 6) construction
  line L166 (58.5, 4.4) -> (41.5, 4.4) construction
  line L167 (41.5, 6) -> (41.5, 4.4) construction
  line L168 (33.5, 6) -> (41.5, 6) construction
  line L169 (33.5, 4.4) -> (33.5, 6) construction
  line L170 (33.5, 4.4) -> (16.5, 4.4) construction
  line L171 (16.5, 6) -> (16.5, 4.4) construction
  line L172 (8.5, 6) -> (16.5, 6) construction
  line L173 (8.5, 4.4) -> (8.5, 6) construction
  line L174 (8.5, 4.4) -> (-8.5, 4.4) construction
  line L175 (-8.5, 6) -> (-8.5, 4.4) construction
  line L176 (-16.5, 6) -> (-8.5, 6) construction
  line L177 (-16.5, 4.4) -> (-16.5, 6) construction
  line L178 (-16.5, 4.4) -> (-33.5, 4.4) construction
  line L179 (-33.5, 6) -> (-33.5, 4.4) construction
  line L180 (-41.5, 6) -> (-33.5, 6) construction
  line L181 (-41.5, 4.4) -> (-41.5, 6) construction
  line L182 (-41.5, 4.4) -> (-58.5, 4.4) construction
  line L183 (-58.5, 6) -> (-58.5, 4.4) construction
  line L184 (-66.5, 6) -> (-58.5, 6) construction
  line L185 (-66.5, 4.4) -> (-66.5, 6) construction
  line L186 (-66.5, 4.4) -> (-83.5, 4.4) construction
  line L187 (-83.5, 6) -> (-83.5, 4.4) construction
  line L188 (-91.5, 6) -> (-83.5, 6) construction
  line L189 (-91.5, 4.4) -> (-91.5, 6) construction
  line L190 (-91.5, 4.4) -> (-108.5, 4.4) construction
  line L191 (-108.5, 6) -> (-108.5, 4.4) construction
  line L192 (-116.5, 6) -> (-108.5, 6) construction
  line L193 (-116.5, 4.4) -> (-116.5, 6) construction
  line L194 (-116.5, 4.4) -> (-133.5, 4.4) construction
  line L195 (-133.5, 4.4) -> (-133.5, 6) construction
  line L196 (-133.5, 6) -> (-141.5, 6) construction
  line L197 (-141.5, 6) -> (-141.5, 4.4) construction
  line L198 (-141.5, 4.4) -> (-159.2, 4.4) construction
  line L199 (-159.2, 4.4) -> (-159.2, -4.4) construction
  line L200 (-159.2, -4.4) -> (-141.5, -4.4) construction
  line L201 (-141.5, -6) -> (-141.5, -4.4) construction
  line L202 (-133.5, -6) -> (-141.5, -6) construction
  line L203 (-133.5, -4.4) -> (-133.5, -6) construction
  line L204 (-133.5, -4.4) -> (-116.5, -4.4) construction
  line L205 (-116.5, -4.4) -> (-116.5, -6) construction
  line L206 (-116.5, -6) -> (-108.5, -6) construction
  line L207 (-108.5, -6) -> (-108.5, -4.4) construction
  line L208 (-108.5, -4.4) -> (-91.5, -4.4) construction
  line L209 (-91.5, -4.4) -> (-91.5, -6) construction
  line L210 (-91.5, -6) -> (-83.5, -6) construction
  line L211 (-83.5, -6) -> (-83.5, -4.4) construction
  line L212 (-83.5, -4.4) -> (-66.5, -4.4) construction
  line L213 (-66.5, -4.4) -> (-66.5, -6) construction
  line L214 (-66.5, -6) -> (-58.5, -6) construction
  line L215 (-58.5, -6) -> (-58.5, -4.4) construction
  line L216 (-58.5, -4.4) -> (-41.5, -4.4) construction
  line L217 (-41.5, -4.4) -> (-41.5, -6) construction
  line L218 (-41.5, -6) -> (-33.5, -6) construction
  line L219 (-33.5, -6) -> (-33.5, -4.4) construction
  line L220 (-33.5, -4.4) -> (-16.5, -4.4) construction
  line L221 (-16.5, -4.4) -> (-16.5, -6) construction
  line L222 (-16.5, -6) -> (-8.5, -6) construction
  line L223 (-8.5, -6) -> (-8.5, -4.4) construction
  line L224 (-8.5, -4.4) -> (8.5, -4.4) construction
  line L225 (8.5, -4.4) -> (8.5, -6) construction
  line L226 (8.5, -6) -> (16.5, -6) construction
  line L227 (16.5, -6) -> (16.5, -4.4) construction
  line L228 (16.5, -4.4) -> (33.5, -4.4) construction
  line L229 (33.5, -4.4) -> (33.5, -6) construction
  line L230 (33.5, -6) -> (41.5, -6) construction
  line L231 (41.5, -6) -> (41.5, -4.4) construction
  line L232 (41.5, -4.4) -> (58.5, -4.4) construction
  line L233 (58.5, -4.4) -> (58.5, -6) construction
  line L234 (58.5, -6) -> (66.5, -6) construction
  line L235 (66.5, -6) -> (66.5, -4.4) construction
  line L236 (66.5, -4.4) -> (83.5, -4.4) construction
  line L237 (83.5, -4.4) -> (83.5, -6) construction
  line L238 (83.5, -6) -> (91.5, -6) construction
  line L239 (91.5, -6) -> (91.5, -4.4) construction
  line L240 (91.5, -4.4) -> (108.5, -4.4) construction
  line L241 (108.5, -4.4) -> (108.5, -6) construction
  line L242 (108.5, -6) -> (116.5, -6) construction
  line L243 (116.5, -6) -> (116.5, -4.4) construction
  line L244 (116.5, -4.4) -> (133.5, -4.4) construction
  line L245 (133.5, -4.4) -> (133.5, -6) construction
  line L246 (133.5, -6) -> (141.5, -6) construction
  line L247 (141.5, -6) -> (141.5, -4.4) construction
  line L248 (141.5, -4.4) -> (159.2, -4.4) construction
  line L249 (159.2, -4.4) -> (159.2, -3) construction
  line L250 (159.2, -3) -> (157.6, -3) construction
  line L251 (157.6, -3) -> (157.6, 3) construction
  line L252 (-75, 3) -> (-75, -3) construction
  line L253 (-75, -3) -> (-76.6, -3) construction
  line L254 (-76.6, -3) -> (-76.6, 3) construction
  line L255 (-76.6, 3) -> (-75, 3) construction
  line L256 (26.3, -3) -> (26.3, 3) construction
  line L257 (26.3, 3) -> (27.9, 3) construction
  line L258 (27.9, 3) -> (27.9, -3) construction
  line L259 (27.9, -3) -> (26.3, -3) construction
  line L260 (85.6, -3) -> (85.6, 3) construction
  line L261 (85.6, 3) -> (87.2, 3) construction
  line L262 (87.2, 3) -> (87.2, -3) construction
  line L263 (87.2, -3) -> (85.6, -3) construction
  line L264 (-109.2, 3) -> (-109.2, -3) construction
  line L265 (-109.2, -3) -> (-110.8, -3) construction
  line L266 (-110.8, -3) -> (-110.8, 3) construction
  line L267 (-110.8, 3) -> (-109.2, 3) construction
  line L268 (-33, -3) -> (-33, 3) construction
  line L269 (-33, 3) -> (-31.4, 3) construction
  line L270 (-31.4, 3) -> (-31.4, -3) construction
  line L271 (-31.4, -3) -> (-33, -3) construction
  line L272 (0, 8.4) -> (0, -8.4) construction
  line L273 (-222.88, 0) -> (222.88, 0) construction
  line L274 (-159.2, 3) -> (-160.8, 3)
  line L275 (-160.8, 3) -> (-160.8, -3)
  line L276 (-160.8, -3) -> (-159.2, -3)
  line L277 (-159.2, -3) -> (-159.2, 3)
  point P0 (0, 0)
  dimension "d32" = 1.6
  dimension "d33" = 6
extrude "Extrusion7" add sketch "Esquisse6" against normal blind 1.6
properties part number "CaissonLongueur" material "PVC-U"
